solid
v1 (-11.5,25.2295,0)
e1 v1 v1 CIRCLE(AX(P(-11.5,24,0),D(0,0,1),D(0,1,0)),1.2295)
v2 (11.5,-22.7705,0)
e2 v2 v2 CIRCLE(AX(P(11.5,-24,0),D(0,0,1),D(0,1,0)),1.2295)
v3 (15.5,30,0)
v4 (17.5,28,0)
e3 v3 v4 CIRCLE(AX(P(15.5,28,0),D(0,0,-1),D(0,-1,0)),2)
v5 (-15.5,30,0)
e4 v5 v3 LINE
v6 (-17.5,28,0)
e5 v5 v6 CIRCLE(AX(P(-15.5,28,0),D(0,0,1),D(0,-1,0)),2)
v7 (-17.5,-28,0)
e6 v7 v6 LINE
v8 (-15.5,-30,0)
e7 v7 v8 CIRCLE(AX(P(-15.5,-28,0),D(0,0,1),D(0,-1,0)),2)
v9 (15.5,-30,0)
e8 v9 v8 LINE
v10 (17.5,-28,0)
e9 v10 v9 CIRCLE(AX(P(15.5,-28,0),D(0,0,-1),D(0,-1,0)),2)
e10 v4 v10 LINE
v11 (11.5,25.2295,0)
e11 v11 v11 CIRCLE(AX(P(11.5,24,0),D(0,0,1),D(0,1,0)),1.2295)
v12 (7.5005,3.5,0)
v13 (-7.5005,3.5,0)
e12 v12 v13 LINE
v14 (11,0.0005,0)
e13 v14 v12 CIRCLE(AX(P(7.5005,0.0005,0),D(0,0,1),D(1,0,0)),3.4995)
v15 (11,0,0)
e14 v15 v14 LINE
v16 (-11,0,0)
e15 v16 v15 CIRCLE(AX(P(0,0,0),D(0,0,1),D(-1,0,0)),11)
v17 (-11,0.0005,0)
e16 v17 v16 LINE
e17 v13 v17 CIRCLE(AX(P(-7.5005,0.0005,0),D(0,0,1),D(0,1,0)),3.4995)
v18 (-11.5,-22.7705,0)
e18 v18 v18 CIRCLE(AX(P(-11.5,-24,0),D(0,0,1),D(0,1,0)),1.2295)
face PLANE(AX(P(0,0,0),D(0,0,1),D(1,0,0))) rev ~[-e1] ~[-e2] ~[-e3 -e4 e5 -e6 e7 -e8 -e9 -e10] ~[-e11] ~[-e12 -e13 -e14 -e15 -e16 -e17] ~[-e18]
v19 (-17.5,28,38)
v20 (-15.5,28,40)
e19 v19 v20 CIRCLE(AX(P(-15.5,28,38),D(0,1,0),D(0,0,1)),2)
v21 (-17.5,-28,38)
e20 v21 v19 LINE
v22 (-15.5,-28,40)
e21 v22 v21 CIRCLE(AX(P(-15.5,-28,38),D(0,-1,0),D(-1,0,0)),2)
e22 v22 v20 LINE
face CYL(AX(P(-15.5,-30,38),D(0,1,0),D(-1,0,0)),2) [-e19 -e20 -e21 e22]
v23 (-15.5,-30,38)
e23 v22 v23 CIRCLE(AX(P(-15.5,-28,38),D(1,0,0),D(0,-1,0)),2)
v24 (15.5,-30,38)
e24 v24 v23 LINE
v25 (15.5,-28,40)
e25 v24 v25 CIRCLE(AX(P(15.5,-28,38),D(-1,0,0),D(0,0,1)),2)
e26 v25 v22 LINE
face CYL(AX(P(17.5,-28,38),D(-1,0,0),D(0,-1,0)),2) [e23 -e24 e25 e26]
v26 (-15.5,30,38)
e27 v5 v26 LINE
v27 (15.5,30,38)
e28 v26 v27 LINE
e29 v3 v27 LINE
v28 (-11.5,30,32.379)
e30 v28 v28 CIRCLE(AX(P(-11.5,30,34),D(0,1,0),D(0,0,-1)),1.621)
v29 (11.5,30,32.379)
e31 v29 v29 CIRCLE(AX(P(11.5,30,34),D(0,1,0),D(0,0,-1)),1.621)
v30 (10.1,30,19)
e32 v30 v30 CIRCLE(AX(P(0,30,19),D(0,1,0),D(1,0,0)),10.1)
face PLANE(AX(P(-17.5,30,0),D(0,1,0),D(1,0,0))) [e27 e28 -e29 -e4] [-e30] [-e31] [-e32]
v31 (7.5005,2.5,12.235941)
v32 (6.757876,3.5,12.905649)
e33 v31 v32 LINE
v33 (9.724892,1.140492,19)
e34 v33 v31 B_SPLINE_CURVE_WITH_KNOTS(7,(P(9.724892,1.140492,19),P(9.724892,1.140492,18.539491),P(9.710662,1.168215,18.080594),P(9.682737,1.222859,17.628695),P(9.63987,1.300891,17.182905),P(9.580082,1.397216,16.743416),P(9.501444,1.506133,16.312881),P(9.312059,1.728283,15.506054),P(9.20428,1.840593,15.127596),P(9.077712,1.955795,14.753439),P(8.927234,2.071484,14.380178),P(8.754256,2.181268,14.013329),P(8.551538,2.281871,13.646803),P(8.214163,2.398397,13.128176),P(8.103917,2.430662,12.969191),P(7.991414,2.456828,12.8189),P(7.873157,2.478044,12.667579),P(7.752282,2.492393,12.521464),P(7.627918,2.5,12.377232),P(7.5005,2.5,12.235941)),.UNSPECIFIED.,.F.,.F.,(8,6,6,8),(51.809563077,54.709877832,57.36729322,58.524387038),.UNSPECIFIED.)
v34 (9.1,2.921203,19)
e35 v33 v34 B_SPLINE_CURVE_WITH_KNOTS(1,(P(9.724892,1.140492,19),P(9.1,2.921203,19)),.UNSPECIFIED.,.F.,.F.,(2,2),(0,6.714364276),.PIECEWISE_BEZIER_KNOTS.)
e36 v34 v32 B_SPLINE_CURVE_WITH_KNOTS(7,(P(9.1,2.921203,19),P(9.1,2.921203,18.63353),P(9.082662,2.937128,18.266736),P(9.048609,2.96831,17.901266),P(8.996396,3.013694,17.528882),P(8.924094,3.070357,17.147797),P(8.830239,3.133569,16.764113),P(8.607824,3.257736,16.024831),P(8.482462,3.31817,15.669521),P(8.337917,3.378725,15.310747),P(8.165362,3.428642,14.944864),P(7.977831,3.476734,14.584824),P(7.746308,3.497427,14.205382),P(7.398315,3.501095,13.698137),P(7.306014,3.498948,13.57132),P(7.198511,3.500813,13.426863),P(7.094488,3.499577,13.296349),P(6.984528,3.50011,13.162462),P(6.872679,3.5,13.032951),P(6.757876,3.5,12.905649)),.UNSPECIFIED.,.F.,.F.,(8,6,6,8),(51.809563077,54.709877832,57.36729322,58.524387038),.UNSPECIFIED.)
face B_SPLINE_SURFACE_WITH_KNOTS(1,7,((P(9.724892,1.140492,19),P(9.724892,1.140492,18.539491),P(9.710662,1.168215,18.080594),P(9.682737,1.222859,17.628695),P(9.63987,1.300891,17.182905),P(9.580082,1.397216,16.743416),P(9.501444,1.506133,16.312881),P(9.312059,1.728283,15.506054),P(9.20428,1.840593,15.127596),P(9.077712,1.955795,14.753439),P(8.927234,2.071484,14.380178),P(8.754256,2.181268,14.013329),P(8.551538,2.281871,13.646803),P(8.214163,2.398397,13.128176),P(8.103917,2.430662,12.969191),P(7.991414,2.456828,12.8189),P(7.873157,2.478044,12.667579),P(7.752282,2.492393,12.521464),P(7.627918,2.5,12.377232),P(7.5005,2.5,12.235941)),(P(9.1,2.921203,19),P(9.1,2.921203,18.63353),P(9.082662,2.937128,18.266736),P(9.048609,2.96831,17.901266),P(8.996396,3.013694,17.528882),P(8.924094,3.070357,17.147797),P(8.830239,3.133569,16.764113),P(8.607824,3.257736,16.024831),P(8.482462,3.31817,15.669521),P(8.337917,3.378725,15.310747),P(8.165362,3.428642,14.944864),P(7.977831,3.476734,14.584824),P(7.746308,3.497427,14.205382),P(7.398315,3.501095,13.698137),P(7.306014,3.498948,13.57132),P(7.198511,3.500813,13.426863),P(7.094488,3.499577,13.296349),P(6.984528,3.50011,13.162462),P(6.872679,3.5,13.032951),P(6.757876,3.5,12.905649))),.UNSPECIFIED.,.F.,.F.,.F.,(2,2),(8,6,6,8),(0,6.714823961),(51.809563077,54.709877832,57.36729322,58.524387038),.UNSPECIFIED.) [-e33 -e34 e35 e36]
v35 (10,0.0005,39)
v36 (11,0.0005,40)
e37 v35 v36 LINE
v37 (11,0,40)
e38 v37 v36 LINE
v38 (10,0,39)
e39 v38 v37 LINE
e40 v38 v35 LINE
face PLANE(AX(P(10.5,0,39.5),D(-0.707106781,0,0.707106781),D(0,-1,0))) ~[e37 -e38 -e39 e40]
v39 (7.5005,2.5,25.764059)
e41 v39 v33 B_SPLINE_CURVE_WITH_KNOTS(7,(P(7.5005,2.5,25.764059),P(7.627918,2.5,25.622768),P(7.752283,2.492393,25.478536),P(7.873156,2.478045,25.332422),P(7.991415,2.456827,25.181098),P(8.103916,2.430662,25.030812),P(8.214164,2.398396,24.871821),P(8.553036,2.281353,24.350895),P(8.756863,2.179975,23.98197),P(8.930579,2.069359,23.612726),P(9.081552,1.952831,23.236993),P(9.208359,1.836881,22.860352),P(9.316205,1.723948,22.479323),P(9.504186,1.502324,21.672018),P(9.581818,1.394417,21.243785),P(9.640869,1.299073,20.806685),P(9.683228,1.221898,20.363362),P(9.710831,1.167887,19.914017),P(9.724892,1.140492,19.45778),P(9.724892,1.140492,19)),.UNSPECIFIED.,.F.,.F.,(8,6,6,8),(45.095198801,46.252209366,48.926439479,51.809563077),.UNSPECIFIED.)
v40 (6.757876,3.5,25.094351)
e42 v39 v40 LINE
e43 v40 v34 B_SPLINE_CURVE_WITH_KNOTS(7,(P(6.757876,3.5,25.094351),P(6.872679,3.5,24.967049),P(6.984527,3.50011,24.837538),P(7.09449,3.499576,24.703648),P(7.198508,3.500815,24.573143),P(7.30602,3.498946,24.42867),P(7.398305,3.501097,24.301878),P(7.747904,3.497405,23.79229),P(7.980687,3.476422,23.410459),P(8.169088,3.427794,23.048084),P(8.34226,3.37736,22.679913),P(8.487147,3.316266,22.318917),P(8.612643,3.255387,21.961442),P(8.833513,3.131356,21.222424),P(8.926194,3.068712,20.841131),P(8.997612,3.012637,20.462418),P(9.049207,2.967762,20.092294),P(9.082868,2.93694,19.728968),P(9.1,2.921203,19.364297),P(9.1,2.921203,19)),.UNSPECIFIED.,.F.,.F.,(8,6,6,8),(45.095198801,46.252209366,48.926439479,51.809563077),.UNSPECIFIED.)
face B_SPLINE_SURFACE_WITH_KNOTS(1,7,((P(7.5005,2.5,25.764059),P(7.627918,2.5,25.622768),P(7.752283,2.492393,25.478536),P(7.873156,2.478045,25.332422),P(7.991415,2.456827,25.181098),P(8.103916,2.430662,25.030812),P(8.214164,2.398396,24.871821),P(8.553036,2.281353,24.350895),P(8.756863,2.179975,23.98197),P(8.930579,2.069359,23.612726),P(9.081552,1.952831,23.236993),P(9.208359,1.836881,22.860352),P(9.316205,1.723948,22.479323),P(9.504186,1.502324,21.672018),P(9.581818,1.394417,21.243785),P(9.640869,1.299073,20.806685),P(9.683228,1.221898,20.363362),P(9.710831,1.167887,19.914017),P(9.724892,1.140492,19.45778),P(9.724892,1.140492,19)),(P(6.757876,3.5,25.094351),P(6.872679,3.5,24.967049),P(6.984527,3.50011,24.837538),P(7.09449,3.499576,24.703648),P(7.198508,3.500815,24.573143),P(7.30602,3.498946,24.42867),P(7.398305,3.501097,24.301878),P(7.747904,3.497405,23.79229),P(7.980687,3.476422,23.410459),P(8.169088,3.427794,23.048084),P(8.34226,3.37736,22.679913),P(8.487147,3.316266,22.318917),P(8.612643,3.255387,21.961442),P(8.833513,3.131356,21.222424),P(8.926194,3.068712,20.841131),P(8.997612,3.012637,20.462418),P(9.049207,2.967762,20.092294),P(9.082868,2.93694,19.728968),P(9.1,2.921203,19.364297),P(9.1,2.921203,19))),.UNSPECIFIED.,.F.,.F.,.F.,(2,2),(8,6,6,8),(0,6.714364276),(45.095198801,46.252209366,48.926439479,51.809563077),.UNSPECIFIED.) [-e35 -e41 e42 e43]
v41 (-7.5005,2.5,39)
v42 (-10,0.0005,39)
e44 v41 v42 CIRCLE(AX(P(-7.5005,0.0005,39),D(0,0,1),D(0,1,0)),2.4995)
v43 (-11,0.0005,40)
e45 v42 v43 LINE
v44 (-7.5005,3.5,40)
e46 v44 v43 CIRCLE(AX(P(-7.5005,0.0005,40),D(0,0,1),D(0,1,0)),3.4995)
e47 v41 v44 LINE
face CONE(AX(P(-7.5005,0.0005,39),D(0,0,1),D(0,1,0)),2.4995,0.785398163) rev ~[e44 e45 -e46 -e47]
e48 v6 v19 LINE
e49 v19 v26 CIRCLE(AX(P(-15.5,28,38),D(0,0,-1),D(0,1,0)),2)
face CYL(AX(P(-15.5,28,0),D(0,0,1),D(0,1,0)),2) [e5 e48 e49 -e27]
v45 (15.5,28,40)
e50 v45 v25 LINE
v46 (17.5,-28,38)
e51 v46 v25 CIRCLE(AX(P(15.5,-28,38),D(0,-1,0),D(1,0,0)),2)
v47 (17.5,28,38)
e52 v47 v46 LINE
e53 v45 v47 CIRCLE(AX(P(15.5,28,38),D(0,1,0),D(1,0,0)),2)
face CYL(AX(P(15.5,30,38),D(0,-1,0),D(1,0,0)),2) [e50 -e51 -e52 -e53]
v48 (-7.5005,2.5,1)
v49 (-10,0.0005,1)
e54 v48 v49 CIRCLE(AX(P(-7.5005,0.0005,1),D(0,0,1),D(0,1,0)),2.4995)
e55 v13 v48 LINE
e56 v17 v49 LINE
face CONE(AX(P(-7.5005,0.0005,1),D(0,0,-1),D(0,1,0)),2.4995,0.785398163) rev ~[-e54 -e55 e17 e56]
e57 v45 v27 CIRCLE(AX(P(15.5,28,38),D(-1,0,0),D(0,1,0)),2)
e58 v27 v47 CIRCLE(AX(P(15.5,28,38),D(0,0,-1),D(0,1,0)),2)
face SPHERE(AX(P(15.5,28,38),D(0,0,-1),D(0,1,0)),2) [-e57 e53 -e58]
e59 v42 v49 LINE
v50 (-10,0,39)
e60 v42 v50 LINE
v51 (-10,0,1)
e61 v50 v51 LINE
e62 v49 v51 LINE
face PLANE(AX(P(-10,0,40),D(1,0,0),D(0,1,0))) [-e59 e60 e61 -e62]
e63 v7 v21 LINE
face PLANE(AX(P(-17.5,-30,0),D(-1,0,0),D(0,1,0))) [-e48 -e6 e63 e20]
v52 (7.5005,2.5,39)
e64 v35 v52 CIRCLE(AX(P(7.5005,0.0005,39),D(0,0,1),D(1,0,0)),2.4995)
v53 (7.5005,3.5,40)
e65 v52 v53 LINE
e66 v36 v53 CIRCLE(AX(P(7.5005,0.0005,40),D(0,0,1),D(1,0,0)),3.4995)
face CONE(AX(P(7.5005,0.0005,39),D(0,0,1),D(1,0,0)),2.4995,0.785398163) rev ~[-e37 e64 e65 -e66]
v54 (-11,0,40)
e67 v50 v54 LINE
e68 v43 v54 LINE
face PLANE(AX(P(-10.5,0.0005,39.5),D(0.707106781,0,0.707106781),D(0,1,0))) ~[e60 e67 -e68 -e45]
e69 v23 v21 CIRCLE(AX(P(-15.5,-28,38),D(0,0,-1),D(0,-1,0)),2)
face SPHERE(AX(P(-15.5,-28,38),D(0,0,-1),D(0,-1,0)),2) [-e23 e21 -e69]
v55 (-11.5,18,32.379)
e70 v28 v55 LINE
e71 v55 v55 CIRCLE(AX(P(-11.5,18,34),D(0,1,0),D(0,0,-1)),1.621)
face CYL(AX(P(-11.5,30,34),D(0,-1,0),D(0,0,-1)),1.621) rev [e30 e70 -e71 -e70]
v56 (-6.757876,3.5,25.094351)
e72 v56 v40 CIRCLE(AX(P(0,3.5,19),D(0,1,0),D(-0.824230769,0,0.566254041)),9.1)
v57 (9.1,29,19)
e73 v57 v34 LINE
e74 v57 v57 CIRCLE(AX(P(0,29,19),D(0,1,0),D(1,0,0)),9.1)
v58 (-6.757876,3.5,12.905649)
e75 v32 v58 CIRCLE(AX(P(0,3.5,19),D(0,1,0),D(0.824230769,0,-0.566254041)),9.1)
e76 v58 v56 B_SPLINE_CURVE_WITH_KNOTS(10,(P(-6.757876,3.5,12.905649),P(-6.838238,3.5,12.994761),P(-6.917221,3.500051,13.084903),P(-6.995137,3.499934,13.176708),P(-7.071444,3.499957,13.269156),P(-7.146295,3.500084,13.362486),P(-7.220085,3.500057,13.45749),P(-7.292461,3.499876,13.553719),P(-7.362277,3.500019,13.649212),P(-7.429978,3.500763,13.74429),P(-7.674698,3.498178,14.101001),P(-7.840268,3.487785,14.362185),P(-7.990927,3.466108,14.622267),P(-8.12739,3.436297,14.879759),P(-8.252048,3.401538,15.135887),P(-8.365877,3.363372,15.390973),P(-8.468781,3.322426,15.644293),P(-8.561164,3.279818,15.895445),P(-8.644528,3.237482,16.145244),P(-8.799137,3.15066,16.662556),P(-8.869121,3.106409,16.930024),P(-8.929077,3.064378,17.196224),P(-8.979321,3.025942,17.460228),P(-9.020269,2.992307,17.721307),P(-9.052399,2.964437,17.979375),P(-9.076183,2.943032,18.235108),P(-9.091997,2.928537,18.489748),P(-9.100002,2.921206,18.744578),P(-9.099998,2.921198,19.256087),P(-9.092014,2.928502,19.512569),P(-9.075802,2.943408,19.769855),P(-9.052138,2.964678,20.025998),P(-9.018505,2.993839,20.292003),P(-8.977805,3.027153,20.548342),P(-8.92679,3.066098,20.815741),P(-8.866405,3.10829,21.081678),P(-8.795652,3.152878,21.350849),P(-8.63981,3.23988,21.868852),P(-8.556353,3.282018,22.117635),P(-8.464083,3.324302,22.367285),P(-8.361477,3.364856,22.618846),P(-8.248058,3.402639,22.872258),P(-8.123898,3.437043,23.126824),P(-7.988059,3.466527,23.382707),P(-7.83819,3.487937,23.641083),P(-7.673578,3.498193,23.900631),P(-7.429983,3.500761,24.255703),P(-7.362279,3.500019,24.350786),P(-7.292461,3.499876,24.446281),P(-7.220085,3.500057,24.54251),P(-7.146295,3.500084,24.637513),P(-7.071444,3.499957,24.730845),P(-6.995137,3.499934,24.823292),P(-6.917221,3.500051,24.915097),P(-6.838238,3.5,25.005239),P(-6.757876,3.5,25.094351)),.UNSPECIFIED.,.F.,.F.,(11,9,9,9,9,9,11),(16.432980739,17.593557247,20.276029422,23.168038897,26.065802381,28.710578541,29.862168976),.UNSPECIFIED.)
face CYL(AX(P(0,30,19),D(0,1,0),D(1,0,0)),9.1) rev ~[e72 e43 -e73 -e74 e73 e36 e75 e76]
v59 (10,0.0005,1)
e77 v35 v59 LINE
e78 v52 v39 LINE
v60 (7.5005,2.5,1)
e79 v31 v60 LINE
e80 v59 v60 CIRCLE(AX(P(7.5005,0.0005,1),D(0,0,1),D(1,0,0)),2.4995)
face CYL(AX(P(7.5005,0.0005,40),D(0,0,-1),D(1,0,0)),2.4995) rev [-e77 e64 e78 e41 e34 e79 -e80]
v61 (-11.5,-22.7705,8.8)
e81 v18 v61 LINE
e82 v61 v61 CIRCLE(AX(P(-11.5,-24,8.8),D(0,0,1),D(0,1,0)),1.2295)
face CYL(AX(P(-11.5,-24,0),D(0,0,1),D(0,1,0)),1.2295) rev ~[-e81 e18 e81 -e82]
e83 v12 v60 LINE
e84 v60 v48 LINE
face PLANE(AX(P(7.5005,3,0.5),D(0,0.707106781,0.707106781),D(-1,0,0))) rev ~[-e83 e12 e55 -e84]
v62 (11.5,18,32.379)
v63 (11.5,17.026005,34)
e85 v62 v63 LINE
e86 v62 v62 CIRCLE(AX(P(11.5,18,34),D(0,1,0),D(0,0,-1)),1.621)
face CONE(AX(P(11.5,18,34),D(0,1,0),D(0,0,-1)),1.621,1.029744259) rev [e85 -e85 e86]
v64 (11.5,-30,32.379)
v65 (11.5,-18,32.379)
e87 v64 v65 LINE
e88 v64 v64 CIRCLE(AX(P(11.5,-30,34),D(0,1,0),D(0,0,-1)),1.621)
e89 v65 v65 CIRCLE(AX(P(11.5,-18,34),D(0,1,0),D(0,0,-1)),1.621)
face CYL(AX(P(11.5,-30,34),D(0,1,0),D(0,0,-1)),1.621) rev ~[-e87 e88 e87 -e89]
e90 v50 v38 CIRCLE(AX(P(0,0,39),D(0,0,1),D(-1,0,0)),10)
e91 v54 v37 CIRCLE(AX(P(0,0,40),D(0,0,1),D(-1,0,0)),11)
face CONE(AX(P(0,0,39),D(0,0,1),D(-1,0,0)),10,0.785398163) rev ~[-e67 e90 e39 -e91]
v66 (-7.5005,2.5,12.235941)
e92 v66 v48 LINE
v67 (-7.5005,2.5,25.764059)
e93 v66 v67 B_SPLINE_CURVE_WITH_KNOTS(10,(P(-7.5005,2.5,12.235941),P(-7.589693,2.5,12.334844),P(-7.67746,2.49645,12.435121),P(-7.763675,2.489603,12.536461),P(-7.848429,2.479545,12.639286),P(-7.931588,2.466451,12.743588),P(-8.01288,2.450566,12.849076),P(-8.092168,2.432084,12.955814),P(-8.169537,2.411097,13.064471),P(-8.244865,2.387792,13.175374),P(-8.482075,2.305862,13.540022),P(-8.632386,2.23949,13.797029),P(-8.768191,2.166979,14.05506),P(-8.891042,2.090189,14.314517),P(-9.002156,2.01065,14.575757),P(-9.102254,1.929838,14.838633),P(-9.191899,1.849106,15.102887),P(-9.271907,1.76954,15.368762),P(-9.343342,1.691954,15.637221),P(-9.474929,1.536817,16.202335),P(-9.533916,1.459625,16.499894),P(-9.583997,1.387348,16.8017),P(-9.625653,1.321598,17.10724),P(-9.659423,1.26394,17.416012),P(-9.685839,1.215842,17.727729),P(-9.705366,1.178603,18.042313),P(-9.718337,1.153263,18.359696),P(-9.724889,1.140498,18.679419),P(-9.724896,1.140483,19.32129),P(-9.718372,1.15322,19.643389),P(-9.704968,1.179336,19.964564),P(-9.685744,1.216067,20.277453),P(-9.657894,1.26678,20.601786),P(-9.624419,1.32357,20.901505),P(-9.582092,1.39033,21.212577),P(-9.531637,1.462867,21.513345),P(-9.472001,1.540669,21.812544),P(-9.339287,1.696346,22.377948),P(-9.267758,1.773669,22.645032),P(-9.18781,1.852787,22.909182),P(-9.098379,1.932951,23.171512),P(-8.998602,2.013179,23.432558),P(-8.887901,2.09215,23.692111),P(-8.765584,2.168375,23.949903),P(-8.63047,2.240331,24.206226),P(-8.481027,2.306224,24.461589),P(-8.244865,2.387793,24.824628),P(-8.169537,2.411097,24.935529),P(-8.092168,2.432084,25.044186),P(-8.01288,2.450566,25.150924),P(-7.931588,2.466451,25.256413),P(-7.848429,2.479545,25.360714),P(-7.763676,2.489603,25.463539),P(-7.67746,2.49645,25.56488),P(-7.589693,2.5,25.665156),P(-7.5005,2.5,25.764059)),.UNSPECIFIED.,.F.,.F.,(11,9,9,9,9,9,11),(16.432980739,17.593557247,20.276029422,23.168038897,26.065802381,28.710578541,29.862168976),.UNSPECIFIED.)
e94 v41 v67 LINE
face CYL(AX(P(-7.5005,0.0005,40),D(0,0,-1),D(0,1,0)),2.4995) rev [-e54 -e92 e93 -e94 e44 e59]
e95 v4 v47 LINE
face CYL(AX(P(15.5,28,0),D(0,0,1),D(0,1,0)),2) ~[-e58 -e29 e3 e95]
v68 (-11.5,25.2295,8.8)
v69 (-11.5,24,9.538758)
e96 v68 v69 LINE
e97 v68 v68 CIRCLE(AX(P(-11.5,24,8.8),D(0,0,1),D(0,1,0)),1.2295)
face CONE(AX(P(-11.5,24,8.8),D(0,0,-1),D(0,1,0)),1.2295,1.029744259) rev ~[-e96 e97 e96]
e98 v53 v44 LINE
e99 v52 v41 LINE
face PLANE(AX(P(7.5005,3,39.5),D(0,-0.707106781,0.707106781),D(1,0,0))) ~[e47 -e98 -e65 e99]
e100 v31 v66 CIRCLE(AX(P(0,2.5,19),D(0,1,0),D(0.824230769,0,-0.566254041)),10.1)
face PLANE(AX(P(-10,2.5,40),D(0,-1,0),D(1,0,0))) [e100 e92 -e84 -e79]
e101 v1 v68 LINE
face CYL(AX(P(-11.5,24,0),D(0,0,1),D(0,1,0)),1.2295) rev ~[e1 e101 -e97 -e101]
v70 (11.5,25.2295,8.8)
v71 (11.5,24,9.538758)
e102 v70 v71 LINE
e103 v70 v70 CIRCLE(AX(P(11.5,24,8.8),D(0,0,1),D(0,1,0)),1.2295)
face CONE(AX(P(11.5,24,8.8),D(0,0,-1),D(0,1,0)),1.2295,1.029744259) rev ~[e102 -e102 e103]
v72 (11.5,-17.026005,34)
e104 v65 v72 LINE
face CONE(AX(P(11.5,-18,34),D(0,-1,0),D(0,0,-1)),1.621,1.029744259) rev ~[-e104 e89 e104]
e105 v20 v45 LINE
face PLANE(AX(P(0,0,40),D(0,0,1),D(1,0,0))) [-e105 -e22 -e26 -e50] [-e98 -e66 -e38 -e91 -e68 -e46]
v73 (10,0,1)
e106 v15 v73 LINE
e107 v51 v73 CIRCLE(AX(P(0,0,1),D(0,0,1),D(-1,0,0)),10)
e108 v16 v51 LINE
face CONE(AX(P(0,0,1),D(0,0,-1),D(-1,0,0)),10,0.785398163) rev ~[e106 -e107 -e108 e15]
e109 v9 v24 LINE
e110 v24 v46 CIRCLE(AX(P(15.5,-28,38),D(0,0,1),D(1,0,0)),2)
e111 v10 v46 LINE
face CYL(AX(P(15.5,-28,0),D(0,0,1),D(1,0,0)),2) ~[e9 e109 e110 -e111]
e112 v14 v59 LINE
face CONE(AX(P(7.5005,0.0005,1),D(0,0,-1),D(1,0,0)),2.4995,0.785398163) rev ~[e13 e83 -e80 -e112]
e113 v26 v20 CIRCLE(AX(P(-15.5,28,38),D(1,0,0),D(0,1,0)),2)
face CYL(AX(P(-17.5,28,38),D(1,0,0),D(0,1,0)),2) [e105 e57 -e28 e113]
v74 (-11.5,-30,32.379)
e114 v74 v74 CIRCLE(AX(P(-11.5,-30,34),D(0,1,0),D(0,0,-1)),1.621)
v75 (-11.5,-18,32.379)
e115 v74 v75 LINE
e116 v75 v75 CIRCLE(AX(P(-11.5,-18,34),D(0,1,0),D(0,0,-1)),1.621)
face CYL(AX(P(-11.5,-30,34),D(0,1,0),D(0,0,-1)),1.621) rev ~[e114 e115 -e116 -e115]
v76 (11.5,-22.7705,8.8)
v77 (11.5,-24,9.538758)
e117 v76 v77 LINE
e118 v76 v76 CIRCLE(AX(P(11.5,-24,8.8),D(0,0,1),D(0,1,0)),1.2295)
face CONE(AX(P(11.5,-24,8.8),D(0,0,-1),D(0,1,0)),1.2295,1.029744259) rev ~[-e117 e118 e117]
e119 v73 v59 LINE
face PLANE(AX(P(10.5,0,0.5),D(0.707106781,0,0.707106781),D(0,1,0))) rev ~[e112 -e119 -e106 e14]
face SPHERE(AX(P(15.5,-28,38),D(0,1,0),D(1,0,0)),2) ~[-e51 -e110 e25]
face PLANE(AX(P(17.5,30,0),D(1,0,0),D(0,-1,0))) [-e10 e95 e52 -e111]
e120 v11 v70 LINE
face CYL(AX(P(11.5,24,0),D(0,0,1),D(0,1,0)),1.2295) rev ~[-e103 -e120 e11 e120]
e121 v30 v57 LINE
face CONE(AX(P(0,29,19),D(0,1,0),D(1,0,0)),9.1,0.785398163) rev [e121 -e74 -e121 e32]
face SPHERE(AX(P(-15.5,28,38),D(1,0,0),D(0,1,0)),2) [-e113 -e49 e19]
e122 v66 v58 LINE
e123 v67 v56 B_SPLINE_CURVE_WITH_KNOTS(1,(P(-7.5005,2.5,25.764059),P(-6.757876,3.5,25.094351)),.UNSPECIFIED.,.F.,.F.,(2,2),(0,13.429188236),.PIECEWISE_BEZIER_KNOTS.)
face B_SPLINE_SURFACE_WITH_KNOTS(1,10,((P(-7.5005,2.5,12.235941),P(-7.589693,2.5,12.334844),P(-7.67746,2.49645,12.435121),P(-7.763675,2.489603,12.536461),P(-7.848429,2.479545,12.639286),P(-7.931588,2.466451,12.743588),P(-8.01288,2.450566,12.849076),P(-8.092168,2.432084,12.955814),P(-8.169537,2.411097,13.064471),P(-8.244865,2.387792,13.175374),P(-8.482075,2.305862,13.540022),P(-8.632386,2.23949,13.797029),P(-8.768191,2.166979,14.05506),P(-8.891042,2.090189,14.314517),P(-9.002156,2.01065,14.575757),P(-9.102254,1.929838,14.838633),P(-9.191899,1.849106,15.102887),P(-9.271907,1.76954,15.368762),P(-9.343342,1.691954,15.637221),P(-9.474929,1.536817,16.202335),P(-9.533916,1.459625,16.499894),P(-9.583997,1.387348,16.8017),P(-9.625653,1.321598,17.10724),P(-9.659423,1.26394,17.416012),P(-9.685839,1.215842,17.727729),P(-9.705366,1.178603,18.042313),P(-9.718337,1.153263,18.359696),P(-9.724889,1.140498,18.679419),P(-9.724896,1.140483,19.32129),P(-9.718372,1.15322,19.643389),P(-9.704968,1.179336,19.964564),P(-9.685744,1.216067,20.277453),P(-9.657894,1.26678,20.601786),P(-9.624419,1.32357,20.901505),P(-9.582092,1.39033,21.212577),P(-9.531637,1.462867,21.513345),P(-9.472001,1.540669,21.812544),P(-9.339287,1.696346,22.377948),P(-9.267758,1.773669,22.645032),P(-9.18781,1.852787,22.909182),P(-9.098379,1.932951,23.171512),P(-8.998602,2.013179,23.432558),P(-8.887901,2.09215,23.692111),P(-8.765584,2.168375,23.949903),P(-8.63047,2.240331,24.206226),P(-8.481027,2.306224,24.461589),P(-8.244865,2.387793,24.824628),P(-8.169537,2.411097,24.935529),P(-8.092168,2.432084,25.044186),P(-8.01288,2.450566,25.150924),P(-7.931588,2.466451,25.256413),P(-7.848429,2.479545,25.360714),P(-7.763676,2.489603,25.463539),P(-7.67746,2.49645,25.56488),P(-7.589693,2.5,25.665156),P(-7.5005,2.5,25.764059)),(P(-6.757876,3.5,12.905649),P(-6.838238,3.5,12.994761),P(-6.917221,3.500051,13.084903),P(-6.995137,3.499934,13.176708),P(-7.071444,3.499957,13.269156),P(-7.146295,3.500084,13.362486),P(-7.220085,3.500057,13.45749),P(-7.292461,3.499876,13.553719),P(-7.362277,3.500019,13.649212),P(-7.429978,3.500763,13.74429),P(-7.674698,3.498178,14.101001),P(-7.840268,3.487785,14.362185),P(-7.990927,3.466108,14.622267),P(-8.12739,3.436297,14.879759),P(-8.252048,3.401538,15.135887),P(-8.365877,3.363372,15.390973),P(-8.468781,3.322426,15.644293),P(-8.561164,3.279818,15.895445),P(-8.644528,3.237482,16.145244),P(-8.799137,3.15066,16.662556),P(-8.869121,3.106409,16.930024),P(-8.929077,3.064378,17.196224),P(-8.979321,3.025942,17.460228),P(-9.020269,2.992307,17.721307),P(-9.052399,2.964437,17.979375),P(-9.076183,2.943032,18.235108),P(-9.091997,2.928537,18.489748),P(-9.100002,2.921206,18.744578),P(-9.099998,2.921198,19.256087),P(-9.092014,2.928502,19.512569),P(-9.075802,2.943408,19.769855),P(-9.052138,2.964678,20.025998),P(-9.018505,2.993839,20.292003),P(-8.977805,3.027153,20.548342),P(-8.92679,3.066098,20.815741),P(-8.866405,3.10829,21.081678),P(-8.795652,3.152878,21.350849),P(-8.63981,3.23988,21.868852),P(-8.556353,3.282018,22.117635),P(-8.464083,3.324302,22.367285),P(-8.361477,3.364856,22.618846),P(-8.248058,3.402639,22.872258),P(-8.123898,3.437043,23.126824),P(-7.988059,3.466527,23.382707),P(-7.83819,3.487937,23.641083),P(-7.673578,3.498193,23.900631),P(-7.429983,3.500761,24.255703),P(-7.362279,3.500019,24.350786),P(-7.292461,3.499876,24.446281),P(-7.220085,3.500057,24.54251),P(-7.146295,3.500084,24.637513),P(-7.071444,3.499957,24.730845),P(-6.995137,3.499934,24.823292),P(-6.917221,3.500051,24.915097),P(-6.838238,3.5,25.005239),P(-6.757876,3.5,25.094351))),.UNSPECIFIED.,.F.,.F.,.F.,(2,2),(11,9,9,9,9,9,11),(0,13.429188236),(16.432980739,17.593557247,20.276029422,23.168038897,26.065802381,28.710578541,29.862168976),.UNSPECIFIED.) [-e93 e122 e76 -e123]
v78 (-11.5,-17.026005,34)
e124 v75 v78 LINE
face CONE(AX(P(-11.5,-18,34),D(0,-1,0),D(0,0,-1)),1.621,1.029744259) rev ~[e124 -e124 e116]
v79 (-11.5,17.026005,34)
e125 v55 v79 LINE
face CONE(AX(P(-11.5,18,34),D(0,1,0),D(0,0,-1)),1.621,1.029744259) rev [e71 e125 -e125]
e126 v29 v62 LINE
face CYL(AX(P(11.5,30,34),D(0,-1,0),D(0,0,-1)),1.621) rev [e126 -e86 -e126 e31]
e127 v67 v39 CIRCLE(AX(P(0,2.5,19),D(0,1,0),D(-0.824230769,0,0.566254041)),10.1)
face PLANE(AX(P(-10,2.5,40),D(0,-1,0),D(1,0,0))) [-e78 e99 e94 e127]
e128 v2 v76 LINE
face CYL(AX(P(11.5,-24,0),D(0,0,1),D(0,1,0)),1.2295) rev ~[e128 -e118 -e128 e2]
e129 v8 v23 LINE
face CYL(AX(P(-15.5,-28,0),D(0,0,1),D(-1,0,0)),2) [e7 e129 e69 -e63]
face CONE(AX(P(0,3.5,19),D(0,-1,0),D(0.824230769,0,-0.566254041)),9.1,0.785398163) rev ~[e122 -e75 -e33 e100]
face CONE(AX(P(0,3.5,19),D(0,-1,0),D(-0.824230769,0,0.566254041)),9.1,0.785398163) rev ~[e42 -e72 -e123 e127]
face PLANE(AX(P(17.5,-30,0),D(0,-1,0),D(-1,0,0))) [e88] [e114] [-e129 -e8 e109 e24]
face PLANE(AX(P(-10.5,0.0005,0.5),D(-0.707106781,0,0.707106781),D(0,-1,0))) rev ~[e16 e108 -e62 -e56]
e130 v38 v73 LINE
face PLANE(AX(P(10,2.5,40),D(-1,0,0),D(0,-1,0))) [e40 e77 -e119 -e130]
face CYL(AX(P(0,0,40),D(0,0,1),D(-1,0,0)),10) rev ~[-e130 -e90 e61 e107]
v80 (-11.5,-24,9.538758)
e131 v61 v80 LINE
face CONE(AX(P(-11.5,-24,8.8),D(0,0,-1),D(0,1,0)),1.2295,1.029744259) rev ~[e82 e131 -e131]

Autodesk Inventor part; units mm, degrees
ref_plane "YZ Plane" through (0, 0, 0) normal (1, 0, 0) x (0, 1, 0)
ref_plane "XZ Plane" through (0, 0, 0) normal (0, 1, 0) x (-1, 0, 0)
ref_plane "XY Plane" through (0, 0, 0) normal (0, 0, 1) x (1, 0, 0)
sketch "Sketch1" plane through (0, 0, 0) normal (0, 0, 1) x (1, 0, 0)
  line L0 (-17.5, 30) -> (17.5, 30)
  line L1 (17.5, 30) -> (17.5, -30)
  line L2 (17.5, -30) -> (-17.5, -30)
  line L3 (-17.5, -30) -> (-17.5, 30)
  line L4 (0, 9.3667) -> (0, 0)
  line L5 (0, 0) -> (7.7585, 0)
  dimension "d0" = 35
  dimension "d1" = 60
extrude "Extrusion1" add sketch "Sketch1" along normal blind 40
sketch "Sketch2" plane through (0, 0, 40) normal (0, 0, 1) x (1, 0, 0)
  arc A0 (-10, 0) -> (10, 0) centre (0, 0) ccw
  line L0 (-17.5, -30) -> (17.5, -30) projected
  line L1 (-10, 0) -> (-10, 2.5)
  line L2 (-10, 2.5) -> (10, 2.5)
  line L3 (10, 2.5) -> (10, 0)
  dimension "d8" = 2.5
  dimension "d9" = 20
  dimension "d80" = 10
extrude "Extrusion2" cut sketch "Sketch2" against normal up to surface (40 mm away)
fillet "Fillet1" radius 2.5 2 edges at (-10, 2.5, 20) (10, 2.5, 20)
sketch "Sketch6" plane through (-17.5, -30, 0) normal (0, -1, 0) x (1, 0, 0)
  line L0 (17.5, 0) -> (17.5, 25.5492)
  line L1 (0, 0) -> (0, 40) construction
  line L2 (0, 40) -> (35, 40) projected
  line L3 (35, 0) -> (35, 40) projected
  point P0 (6, 34)
  point P1 (29, 34)
  dimension "d139" = 6
  dimension "d140" = 6
  dimension "d164" = 6
  dimension "d165" = 6
hole "Hole4" at (-11.5, -30, 34) at (11.5, -30, 34) direction (0, 1, 0) diameter 3.242 depth 12 tip angle 118 thread size "M4x0.7" class "6H" standard "ISO Metric profile"
mirror "Spiegeln3" about plane through (0, 0, 0) normal (0, 1, 0) of "Hole4"
fillet "Rundung2" radius 2 8 edges at (17.5, 30, 20) (0, 30, 40) (17.5, 0, 40) (-17.5, 30, 20) (17.5, -30, 20) (-17.5, -30, 20) (0, -30, 40) (-17.5, 0, 40)
sketch "Skizze23" plane through (-15.5, 30, 0) normal (0, 1, 0) x (1, 0, 0)
  circle A0 centre (15.5, -19) radius 9.1
  line L0 (0, -40) -> (31, -40) projected
  line L1 (-2, 0) -> (-2, -38) projected
  point P0 (15.5, 0)
  dimension "d173" = 18.2
  dimension "d174" = 21
  dimension "d175" = 17.5
extrude "Extrusion14" cut sketch "Skizze23" against normal up to surface
chamfer "Fase1" distance 1 angle 45 14 edges at (-9.1, 30, 19) (0, -10, 0) (9.2679, 1.7679, 0) (0, 2.5, 0) (-9.2679, 1.7679, 0) (0, -10, 40) (-9.2679, 1.7679, 40) (0, 2.5, 40) (9.2679, 1.7679, 40) (0, 2.5, 9.9) (0, 2.5, 28.1) (8.7024, 2.1921, 16.3395) (8.7024, 2.1921, 21.6605) (-9.1, 1.9212, 18.9844)
sketch "Skizze25" plane through (0, 0, 0) normal (0, 0, -1) x (-1, 0, 0)
  line L0 (-17.5, -28) -> (-17.5, 28) projected
  line L1 (15.5, -30) -> (-15.5, -30) projected
  line L2 (17.5, 28) -> (17.5, -28) projected
  line L3 (-15.5, 30) -> (15.5, 30) projected
  point P0 (0, 0)
  point P1 (-11.5, -24)
  point P2 (-11.5, 24)
  point P3 (11.5, 24)
  point P4 (11.5, -24)
  dimension "d191" = 6
  dimension "d192" = 6
  dimension "d193" = 6
  dimension "d194" = 6
hole "Bohrung5" at (11.5, -24, 0) at (11.5, 24, 0) at (-11.5, 24, 0) at (-11.5, -24, 0) direction (0, 0, 1) diameter 2.459 depth 8.8 tip angle 118 thread size "M3x0.5" class "6H" standard "ISO Metric profile"
properties part number "103.003.01_Gehaeuse_Granulatfuehrung" material "Polypropylen"
